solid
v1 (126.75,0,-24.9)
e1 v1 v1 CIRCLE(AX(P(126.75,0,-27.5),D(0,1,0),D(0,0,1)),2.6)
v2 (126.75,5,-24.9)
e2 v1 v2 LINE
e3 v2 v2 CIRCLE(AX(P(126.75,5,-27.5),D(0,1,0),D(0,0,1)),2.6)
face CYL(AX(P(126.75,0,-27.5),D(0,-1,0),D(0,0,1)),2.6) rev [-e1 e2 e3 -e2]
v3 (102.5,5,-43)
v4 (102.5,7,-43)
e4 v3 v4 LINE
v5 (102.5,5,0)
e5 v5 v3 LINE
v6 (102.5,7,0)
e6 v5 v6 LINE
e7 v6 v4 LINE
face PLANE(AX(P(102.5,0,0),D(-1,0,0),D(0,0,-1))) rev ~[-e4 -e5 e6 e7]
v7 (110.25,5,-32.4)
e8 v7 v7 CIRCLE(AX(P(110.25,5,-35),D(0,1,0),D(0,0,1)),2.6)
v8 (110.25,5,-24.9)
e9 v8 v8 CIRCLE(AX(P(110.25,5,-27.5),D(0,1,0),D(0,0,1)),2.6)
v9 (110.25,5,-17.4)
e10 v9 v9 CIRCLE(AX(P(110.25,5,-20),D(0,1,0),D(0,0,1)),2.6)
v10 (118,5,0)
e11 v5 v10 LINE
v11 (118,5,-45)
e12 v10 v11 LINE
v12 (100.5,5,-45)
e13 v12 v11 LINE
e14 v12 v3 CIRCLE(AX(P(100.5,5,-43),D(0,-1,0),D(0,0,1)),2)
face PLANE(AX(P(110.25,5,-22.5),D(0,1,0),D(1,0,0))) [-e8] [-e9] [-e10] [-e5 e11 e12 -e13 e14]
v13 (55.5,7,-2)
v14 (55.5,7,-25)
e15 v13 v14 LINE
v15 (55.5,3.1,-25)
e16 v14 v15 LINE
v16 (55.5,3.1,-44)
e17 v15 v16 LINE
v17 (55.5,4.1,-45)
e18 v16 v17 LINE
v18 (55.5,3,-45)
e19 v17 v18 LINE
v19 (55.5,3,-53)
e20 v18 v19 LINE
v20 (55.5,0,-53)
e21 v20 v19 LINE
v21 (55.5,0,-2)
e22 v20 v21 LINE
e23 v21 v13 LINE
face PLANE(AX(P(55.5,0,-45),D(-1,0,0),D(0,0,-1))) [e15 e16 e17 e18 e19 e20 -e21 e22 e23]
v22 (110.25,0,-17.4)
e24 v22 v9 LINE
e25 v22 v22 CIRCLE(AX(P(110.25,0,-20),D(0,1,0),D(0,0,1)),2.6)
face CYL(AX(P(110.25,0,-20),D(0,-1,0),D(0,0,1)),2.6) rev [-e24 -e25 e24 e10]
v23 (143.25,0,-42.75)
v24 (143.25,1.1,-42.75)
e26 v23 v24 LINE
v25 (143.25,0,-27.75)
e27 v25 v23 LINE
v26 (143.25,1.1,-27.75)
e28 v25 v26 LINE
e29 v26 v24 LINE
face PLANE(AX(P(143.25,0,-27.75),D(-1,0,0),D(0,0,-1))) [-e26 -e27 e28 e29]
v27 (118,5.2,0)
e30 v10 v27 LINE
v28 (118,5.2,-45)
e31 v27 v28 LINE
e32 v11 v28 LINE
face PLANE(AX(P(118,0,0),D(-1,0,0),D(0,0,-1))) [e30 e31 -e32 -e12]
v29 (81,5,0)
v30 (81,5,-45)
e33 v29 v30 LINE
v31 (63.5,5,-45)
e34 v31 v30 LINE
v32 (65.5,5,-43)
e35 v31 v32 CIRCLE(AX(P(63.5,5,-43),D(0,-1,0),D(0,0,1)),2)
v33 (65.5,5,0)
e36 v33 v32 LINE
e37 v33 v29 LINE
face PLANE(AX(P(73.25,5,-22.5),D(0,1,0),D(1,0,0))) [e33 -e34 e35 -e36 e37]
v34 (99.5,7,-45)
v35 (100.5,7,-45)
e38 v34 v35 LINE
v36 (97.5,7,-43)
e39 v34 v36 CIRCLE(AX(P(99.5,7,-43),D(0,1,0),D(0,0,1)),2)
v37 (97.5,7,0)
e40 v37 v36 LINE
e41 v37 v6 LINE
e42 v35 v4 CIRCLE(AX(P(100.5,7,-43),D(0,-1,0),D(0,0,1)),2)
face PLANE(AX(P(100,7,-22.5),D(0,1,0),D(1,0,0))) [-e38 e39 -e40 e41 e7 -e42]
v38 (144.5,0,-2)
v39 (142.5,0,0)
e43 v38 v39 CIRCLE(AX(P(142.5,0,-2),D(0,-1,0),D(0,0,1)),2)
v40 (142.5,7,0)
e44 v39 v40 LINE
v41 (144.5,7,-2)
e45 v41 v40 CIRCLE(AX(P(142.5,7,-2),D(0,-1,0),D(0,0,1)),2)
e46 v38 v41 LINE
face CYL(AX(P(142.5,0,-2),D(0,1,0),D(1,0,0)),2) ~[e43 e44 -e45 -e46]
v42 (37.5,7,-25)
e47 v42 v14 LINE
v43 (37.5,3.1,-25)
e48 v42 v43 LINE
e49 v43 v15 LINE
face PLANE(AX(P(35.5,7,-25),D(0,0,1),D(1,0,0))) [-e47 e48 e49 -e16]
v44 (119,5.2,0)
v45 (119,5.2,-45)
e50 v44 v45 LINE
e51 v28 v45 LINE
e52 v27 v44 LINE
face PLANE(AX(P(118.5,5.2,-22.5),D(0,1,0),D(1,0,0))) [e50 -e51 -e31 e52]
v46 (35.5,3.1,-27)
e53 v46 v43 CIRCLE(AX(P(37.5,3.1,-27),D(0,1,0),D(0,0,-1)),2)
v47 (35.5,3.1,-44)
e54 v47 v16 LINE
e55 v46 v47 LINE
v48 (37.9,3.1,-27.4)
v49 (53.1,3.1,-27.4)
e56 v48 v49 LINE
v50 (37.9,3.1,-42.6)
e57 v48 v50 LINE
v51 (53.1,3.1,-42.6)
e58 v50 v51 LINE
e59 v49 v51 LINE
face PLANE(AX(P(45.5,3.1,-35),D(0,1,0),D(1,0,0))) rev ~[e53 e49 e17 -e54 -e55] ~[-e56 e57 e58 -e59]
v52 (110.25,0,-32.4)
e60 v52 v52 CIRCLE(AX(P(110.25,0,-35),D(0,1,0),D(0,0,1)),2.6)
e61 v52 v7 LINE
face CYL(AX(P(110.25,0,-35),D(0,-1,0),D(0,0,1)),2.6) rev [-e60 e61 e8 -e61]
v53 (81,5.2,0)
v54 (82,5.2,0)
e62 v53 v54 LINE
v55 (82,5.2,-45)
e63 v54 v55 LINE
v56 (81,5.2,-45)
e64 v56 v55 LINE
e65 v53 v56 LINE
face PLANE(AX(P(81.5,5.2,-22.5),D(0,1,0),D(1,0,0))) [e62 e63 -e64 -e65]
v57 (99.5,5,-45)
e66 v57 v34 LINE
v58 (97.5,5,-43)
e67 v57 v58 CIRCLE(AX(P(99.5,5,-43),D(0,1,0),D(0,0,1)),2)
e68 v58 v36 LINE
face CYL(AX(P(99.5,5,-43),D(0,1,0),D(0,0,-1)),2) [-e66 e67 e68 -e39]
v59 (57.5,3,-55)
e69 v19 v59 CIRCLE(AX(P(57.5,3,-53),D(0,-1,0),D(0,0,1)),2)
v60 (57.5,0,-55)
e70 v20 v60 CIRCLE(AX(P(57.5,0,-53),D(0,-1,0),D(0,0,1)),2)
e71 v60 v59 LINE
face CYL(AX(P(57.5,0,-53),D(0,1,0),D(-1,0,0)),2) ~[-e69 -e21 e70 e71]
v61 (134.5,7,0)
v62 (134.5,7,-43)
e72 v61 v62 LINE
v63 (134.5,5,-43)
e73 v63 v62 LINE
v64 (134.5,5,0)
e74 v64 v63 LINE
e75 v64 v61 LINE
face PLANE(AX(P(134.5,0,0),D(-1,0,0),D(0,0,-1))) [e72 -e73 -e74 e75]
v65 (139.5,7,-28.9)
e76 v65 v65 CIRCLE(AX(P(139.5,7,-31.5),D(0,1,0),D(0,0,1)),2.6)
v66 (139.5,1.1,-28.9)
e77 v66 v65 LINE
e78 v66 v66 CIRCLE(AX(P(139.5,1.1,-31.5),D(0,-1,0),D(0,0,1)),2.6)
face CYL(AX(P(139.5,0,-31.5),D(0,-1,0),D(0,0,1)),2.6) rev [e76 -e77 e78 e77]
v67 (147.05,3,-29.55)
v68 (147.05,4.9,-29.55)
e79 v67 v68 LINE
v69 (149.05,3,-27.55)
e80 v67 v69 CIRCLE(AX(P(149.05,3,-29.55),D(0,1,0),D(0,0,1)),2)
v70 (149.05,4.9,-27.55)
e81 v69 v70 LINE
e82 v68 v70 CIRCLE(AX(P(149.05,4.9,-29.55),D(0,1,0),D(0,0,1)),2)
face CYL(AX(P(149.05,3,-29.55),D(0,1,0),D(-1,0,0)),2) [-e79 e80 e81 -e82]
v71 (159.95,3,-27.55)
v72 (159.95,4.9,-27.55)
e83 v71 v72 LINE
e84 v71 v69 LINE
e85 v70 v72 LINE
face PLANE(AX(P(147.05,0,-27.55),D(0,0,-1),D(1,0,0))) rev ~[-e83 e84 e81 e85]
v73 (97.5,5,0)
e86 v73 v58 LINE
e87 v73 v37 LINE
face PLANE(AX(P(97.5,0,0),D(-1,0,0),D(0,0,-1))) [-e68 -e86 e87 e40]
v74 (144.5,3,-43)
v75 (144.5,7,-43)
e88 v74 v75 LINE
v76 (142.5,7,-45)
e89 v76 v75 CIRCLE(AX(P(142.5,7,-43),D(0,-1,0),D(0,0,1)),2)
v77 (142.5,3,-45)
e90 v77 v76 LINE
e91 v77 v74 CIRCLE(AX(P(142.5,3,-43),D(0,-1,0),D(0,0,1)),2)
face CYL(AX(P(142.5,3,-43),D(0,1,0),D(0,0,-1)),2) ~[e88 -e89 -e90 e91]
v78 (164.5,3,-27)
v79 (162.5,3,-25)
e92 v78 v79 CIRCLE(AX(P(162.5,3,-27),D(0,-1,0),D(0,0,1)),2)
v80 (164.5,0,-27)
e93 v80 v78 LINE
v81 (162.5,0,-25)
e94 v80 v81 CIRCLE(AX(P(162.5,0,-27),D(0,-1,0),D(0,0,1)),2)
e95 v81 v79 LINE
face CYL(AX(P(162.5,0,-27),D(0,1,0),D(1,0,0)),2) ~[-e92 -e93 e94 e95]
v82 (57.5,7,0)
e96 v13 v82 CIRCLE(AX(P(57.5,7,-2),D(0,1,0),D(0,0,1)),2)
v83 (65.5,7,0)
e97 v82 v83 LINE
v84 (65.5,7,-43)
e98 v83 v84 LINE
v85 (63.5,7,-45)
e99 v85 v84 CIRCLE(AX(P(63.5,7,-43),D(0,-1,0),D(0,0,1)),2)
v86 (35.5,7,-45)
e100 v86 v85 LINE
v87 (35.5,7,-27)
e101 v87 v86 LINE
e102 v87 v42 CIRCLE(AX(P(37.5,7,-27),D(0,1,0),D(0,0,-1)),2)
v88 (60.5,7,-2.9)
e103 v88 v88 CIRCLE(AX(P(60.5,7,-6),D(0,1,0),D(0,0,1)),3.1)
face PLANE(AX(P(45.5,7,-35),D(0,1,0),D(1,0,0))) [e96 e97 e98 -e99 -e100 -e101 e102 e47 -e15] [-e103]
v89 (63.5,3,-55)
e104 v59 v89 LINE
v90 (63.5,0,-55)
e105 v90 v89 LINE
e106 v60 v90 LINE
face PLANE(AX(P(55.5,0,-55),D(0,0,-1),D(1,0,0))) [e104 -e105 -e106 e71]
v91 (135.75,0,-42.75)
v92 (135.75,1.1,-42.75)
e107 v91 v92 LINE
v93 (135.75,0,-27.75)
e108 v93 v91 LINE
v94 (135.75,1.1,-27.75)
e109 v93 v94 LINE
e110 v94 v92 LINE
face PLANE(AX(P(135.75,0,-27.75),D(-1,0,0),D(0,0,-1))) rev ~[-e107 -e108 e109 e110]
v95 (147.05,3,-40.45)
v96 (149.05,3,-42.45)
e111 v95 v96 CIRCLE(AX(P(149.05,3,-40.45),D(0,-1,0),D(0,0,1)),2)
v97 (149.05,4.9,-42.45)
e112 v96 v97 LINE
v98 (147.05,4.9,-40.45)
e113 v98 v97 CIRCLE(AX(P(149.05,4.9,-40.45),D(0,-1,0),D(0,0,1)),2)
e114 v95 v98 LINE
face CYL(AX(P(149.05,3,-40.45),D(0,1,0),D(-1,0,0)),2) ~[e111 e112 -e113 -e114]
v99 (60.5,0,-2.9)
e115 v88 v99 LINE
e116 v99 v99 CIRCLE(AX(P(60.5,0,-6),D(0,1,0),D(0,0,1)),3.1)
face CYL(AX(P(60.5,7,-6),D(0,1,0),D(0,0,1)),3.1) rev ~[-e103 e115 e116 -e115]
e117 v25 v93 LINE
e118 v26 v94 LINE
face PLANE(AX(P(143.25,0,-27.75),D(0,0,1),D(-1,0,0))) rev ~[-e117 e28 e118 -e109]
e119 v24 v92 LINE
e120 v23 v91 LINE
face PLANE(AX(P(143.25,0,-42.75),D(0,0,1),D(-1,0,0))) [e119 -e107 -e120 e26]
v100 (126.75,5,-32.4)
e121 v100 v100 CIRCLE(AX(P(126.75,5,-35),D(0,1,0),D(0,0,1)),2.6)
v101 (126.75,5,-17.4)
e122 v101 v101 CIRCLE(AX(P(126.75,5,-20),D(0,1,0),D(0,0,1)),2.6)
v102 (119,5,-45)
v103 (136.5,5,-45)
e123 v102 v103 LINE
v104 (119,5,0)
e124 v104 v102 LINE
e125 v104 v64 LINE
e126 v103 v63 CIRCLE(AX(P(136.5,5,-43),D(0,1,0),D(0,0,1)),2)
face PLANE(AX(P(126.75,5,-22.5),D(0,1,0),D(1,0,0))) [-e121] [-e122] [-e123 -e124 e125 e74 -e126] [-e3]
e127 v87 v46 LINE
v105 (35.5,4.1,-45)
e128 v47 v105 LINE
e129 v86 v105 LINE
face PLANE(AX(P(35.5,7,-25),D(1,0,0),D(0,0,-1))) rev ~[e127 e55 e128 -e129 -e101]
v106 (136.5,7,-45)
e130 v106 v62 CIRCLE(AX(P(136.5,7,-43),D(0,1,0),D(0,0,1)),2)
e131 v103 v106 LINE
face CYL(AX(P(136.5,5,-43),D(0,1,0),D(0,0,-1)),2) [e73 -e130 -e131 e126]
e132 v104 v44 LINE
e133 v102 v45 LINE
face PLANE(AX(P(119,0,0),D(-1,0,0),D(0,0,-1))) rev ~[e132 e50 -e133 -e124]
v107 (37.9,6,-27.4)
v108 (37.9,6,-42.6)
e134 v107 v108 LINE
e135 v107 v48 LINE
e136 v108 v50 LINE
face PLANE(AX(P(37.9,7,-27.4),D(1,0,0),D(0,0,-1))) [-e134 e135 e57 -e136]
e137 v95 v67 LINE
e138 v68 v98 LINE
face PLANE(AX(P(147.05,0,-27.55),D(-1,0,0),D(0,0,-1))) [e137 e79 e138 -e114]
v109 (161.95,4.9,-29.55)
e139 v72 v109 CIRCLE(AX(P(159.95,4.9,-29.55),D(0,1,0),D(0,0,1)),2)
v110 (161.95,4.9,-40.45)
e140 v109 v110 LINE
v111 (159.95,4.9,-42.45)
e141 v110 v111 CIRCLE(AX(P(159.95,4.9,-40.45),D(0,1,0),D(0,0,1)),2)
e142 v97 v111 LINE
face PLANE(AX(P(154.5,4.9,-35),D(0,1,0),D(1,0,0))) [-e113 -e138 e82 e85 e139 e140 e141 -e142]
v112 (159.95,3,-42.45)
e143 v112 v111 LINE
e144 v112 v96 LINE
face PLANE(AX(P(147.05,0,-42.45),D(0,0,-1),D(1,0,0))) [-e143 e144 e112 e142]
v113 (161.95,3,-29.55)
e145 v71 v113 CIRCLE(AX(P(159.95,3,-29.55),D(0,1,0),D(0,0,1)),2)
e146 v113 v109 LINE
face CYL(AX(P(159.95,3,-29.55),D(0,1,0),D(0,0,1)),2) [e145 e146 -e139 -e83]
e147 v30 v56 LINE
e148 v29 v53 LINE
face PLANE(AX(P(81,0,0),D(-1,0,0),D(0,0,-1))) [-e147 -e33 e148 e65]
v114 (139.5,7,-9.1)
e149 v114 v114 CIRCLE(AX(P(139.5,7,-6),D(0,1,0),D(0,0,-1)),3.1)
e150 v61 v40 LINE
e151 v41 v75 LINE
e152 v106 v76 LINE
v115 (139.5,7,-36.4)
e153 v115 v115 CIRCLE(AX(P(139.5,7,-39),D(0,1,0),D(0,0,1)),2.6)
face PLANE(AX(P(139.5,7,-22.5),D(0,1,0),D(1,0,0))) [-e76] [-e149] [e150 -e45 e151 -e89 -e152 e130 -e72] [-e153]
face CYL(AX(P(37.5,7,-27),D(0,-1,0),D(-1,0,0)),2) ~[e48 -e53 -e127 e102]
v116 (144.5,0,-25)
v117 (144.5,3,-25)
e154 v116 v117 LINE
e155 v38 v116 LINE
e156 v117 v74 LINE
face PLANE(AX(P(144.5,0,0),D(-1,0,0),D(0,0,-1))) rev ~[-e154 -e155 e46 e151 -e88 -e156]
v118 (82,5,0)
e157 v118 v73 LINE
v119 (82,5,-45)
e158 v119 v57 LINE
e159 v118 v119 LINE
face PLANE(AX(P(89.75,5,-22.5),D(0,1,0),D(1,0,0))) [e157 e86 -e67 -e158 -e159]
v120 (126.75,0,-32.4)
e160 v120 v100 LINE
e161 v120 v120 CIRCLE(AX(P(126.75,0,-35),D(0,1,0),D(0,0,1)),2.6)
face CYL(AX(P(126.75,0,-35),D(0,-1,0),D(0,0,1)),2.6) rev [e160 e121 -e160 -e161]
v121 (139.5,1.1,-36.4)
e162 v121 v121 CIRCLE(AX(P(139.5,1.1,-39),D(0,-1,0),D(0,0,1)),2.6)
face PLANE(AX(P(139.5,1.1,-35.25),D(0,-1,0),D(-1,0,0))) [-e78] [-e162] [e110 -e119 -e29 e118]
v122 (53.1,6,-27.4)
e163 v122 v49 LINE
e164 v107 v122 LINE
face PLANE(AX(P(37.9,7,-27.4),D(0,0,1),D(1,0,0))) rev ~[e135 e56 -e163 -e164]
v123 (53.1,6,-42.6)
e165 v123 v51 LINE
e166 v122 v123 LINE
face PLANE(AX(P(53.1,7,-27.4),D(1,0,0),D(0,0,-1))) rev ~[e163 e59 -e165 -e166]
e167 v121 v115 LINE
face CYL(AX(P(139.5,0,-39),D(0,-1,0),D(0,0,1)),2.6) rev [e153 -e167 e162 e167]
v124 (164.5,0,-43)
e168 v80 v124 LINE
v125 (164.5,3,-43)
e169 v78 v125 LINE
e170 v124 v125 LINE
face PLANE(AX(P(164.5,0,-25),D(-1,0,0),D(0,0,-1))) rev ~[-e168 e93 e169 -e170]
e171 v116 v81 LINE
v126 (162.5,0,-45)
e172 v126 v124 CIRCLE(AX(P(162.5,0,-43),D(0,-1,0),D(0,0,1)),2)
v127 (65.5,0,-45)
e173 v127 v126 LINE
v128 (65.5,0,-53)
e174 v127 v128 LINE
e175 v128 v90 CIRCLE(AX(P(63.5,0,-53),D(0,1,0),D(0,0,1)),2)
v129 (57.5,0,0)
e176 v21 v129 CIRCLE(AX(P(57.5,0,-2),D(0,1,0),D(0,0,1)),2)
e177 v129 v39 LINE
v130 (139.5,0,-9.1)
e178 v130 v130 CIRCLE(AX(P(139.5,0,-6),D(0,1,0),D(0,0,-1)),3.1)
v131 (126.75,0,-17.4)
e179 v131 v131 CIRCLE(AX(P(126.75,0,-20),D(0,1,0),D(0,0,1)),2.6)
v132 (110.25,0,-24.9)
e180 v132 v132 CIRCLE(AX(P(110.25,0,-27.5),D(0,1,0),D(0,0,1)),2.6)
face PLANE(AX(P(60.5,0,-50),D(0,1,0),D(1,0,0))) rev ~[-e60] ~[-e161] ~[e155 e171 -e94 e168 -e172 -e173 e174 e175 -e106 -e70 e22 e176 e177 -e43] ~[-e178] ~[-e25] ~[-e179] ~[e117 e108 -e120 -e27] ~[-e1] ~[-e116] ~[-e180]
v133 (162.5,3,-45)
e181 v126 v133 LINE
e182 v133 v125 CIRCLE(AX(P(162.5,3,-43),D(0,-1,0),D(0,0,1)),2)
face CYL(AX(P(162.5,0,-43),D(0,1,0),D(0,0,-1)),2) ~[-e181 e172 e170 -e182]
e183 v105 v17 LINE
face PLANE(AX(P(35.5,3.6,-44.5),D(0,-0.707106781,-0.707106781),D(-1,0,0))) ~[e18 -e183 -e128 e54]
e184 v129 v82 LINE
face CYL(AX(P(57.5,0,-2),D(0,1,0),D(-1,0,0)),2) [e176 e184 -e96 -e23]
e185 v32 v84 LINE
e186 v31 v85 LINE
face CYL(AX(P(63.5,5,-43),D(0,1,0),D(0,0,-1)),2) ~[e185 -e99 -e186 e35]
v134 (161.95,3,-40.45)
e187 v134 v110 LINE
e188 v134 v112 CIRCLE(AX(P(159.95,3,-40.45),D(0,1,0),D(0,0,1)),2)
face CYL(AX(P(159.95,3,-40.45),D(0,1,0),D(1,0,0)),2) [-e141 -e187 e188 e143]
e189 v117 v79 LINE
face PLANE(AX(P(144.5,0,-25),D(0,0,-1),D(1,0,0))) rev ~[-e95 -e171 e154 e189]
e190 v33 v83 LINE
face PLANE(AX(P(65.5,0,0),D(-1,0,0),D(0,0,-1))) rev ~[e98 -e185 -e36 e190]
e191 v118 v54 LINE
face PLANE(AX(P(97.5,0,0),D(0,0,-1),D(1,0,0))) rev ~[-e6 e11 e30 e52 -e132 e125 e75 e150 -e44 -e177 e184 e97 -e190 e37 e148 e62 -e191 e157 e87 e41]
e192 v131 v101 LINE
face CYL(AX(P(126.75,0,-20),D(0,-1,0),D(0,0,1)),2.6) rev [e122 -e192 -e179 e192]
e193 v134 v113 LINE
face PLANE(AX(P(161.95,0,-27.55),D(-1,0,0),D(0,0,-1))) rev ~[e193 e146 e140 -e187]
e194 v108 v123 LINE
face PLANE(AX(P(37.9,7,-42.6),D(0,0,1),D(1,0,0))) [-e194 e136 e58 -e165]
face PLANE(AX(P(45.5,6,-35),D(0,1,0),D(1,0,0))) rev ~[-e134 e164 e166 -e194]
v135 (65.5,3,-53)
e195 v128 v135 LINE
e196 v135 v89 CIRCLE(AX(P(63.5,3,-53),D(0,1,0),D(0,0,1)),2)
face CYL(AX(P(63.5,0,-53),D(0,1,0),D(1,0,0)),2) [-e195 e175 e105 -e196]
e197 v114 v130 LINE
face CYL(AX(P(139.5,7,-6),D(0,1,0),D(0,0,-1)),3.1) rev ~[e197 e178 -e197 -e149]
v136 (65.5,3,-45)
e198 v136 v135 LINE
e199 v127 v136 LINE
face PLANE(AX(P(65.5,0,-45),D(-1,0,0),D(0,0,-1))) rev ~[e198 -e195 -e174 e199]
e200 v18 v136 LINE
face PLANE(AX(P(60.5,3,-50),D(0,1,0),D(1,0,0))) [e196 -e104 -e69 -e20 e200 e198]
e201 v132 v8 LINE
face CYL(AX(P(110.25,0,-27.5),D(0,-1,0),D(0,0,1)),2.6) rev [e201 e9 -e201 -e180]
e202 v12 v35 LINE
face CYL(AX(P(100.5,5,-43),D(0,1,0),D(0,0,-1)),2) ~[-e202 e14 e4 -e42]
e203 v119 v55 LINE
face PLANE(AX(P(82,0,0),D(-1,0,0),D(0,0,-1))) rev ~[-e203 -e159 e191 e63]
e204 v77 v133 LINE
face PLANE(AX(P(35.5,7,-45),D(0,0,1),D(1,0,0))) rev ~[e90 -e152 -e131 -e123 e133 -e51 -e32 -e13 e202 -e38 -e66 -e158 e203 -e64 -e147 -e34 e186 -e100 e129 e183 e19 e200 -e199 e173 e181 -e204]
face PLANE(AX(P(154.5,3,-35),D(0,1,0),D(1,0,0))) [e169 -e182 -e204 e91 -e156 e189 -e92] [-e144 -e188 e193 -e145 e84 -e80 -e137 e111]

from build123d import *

# Parameters (mm, degrees)
SKETCH1_W             = 15.5
SKETCH1_H             = 45
BOSS_EXTRUDE1_DEPTH   = 5
BOSS_EXTRUDE1_2_DEPTH = 5
SKETCH1_R             = 2.6
BOSS_EXTRUDE1_3_DEPTH = 5
BOSS_EXTRUDE1_4_DEPTH = 5
SKETCH1_3_W           = 1
SKETCH1_3_H           = 45
BOSS_EXTRUDE2_DEPTH   = 5.2
SKETCH1_4_W           = 5
SKETCH1_4_H           = 45
SKETCH1_4_W_2         = 10
SKETCH1_4_R           = 2.6
BOSS_EXTRUDE3_DEPTH   = 7
SKETCH2_W             = 7.5
SKETCH2_H             = 15
CUT_EXTRUDE1_DEPTH    = 1.1
SKETCH3_R             = 3.1
CUT_EXTRUDE2_DEPTH    = 152.506600516
SKETCH5_W             = 20
SKETCH5_H             = 20
SKETCH5_W_2           = 14.9
SKETCH5_H_2           = 14.9
BOSS_EXTRUDE4_DEPTH   = 3
SKETCH5_3_W           = 14.9
SKETCH5_3_H           = 14.9
BOSS_EXTRUDE5_DEPTH   = 4.9
BOSS_EXTRUDE6_START   = 7
SKETCH5_4_W           = 20
SKETCH5_4_H           = 20
SKETCH5_4_W_2         = 15.2
SKETCH5_4_H_2         = 15.2
BOSS_EXTRUDE6_DEPTH   = 3.9
BOSS_EXTRUDE7_START   = 7
SKETCH5_5_W           = 15.2
SKETCH5_5_H           = 15.2
BOSS_EXTRUDE7_DEPTH   = 1
FILLET1_R             = 2
BOSS_EXTRUDE8_START   = -7
SKETCH6_W             = 10
SKETCH6_H             = 10
BOSS_EXTRUDE8_DEPTH   = 3
FILLET3_R             = 2
CHAMFER1_SIZE         = 1


with BuildPart() as part:
    # Sketch1 → Boss-Extrude1 (new body)
    with BuildSketch(Plane(origin=(0, 0, 0), x_dir=(1, 0, 0), z_dir=(0, 1, 0))):
        with Locations((73.25, 22.5)):
            Rectangle(SKETCH1_W, SKETCH1_H)
    extrude(amount=BOSS_EXTRUDE1_DEPTH)



with BuildPart() as body_2:
    # Sketch1 → Boss-Extrude1 2 (new body)
    with BuildSketch(Plane(origin=(0, 0, 0), x_dir=(1, 0, 0), z_dir=(0, 1, 0))):
        with Locations((89.75, 22.5)):
            Rectangle(SKETCH1_W, SKETCH1_H)
    extrude(amount=BOSS_EXTRUDE1_2_DEPTH)


with BuildPart() as body_3:
    # Sketch1 → Boss-Extrude1 3 (new body)
    with BuildSketch(Plane(origin=(0, 0, 0), x_dir=(1, 0, 0), z_dir=(0, 1, 0))):
        with Locations((110.25, 22.5)):
            Rectangle(SKETCH1_W, SKETCH1_H)
        with Locations(Location((110.25, 20, 0), (0, 0, 270))):
            Circle(SKETCH1_R, mode=Mode.SUBTRACT)
        with Locations(Location((110.25, 27.5, 0), (0, 0, 270))):
            Circle(SKETCH1_R, mode=Mode.SUBTRACT)
        with Locations(Location((110.25, 35, 0), (0, 0, 270))):
            Circle(SKETCH1_R, mode=Mode.SUBTRACT)
    extrude(amount=BOSS_EXTRUDE1_3_DEPTH)


with BuildPart() as body_4:
    # Sketch1 → Boss-Extrude1 4 (new body)
    with BuildSketch(Plane(origin=(0, 0, 0), x_dir=(1, 0, 0), z_dir=(0, 1, 0))):
        with Locations((126.75, 22.5)):
            Rectangle(SKETCH1_W, SKETCH1_H)
        with Locations(Location((126.75, 20, 0), (0, 0, 270))):
            Circle(SKETCH1_R, mode=Mode.SUBTRACT)
        with Locations(Location((126.75, 27.5, 0), (0, 0, 270))):
            Circle(SKETCH1_R, mode=Mode.SUBTRACT)
        with Locations(Location((126.75, 35, 0), (0, 0, 270))):
            Circle(SKETCH1_R, mode=Mode.SUBTRACT)
    extrude(amount=BOSS_EXTRUDE1_4_DEPTH)


with BuildPart() as part_1:
    add(part.part)

    add(body_2.part)  # Boss-Extrude2 merges body 2

    add(body_3.part)  # Boss-Extrude2 merges body 3

    add(body_4.part)  # Boss-Extrude2 merges body 4
    # Sketch1<3> → Boss-Extrude2 (add)
    with BuildSketch(Plane(origin=(0, 0, 0), x_dir=(1, 0, 0), z_dir=(0, 1, 0))):
        with Locations((81.5, 22.5)):
            Rectangle(SKETCH1_3_W, SKETCH1_3_H)
        with Locations((118.5, 22.5)):
            Rectangle(SKETCH1_3_W, SKETCH1_3_H)
    extrude(amount=BOSS_EXTRUDE2_DEPTH)

    # Sketch1<4> → Boss-Extrude3 (add)
    # profile 1 of 3: a face of its own
    with BuildSketch(Plane(origin=(0, 0, 0), x_dir=(1, 0, 0), z_dir=(0, 1, 0))):
        with Locations((100, 22.5)):
            Rectangle(SKETCH1_4_W, SKETCH1_4_H)
    # profile 2 of 3: a face of its own
    with BuildSketch(Plane(origin=(0, 0, 0), x_dir=(1, 0, 0), z_dir=(0, 1, 0))):
        with Locations((139.5, 22.5)):
            Rectangle(SKETCH1_4_W_2, SKETCH1_4_H)
        with Locations(Location((139.5, 31.5, 0), (0, 0, 270))):
            Circle(SKETCH1_4_R, mode=Mode.SUBTRACT)
        with Locations(Location((139.5, 39, 0), (0, 0, 270))):
            Circle(SKETCH1_4_R, mode=Mode.SUBTRACT)
    # profile 3 of 3: a face of its own
    with BuildSketch(Plane(origin=(0, 0, 0), x_dir=(1, 0, 0), z_dir=(0, 1, 0))):
        with Locations((60.5, 22.5)):
            Rectangle(SKETCH1_4_W_2, SKETCH1_4_H)
    extrude(amount=BOSS_EXTRUDE3_DEPTH)

    # Sketch2 → Cut-Extrude1 (cut)
    with BuildSketch(Plane(origin=(0, 0, 0), x_dir=(-1, 0, 0), z_dir=(0, -1, 0))):
        with Locations((-139.5, 35.25)):
            Rectangle(SKETCH2_W, SKETCH2_H)
    extrude(amount=-CUT_EXTRUDE1_DEPTH, mode=Mode.SUBTRACT)

    # Sketch3 → Cut-Extrude2 (cut, through all)
    with BuildSketch(Plane(origin=(0, 7, 0), x_dir=(1, 0, 0), z_dir=(0, 1, 0))):
        with Locations(Location((60.5, 6, 0), (0, 0, 270))):
            Circle(SKETCH3_R)
        with Locations(Location((139.5, 6, 0), (0, 0, 90))):
            Circle(SKETCH3_R)
    extrude(amount=-CUT_EXTRUDE2_DEPTH, mode=Mode.SUBTRACT)

    # Sketch5 → Boss-Extrude4 (add)
    # profile 1 of 2: a face of its own
    with BuildSketch(Plane(origin=(0, 0, 0), x_dir=(1, 0, 0), z_dir=(0, 1, 0))):
        with Locations((154.5, 35)):
            Rectangle(SKETCH5_W, SKETCH5_H)
        with Locations((154.5, 35)):
            Rectangle(SKETCH5_W_2, SKETCH5_H_2, mode=Mode.SUBTRACT)
    # profile 2 of 2: a face of its own
    with BuildSketch(Plane(origin=(0, 0, 0), x_dir=(1, 0, 0), z_dir=(0, 1, 0))):
        with Locations((154.5, 35)):
            Rectangle(SKETCH5_W_2, SKETCH5_H_2)
    extrude(amount=BOSS_EXTRUDE4_DEPTH)

    # Sketch5<3> → Boss-Extrude5 (add)
    with BuildSketch(Plane(origin=(0, 0, 0), x_dir=(1, 0, 0), z_dir=(0, 1, 0))):
        with Locations((154.5, 35)):
            Rectangle(SKETCH5_3_W, SKETCH5_3_H)
    extrude(amount=BOSS_EXTRUDE5_DEPTH)

    # Sketch5<4> → Boss-Extrude6 (add)
    with BuildSketch(Plane(origin=(0, 0, 0), x_dir=(1, 0, 0), z_dir=(0, 1, 0)).offset(BOSS_EXTRUDE6_START)):
        with Locations((45.5, 35)):
            Rectangle(SKETCH5_4_W, SKETCH5_4_H)
        with Locations((45.5, 35)):
            Rectangle(SKETCH5_4_W_2, SKETCH5_4_H_2, mode=Mode.SUBTRACT)
    extrude(amount=-BOSS_EXTRUDE6_DEPTH)

    # Sketch5<5> → Boss-Extrude7 (add)
    with BuildSketch(Plane(origin=(0, 0, 0), x_dir=(1, 0, 0), z_dir=(0, 1, 0)).offset(BOSS_EXTRUDE7_START)):
        with Locations((45.5, 35)):
            Rectangle(SKETCH5_5_W, SKETCH5_5_H)
    extrude(amount=-BOSS_EXTRUDE7_DEPTH)

    # Fillet1
    fillet1_edges = [part_1.edges().sort_by_distance(p)[0] for p in [
        (161.95, 3.95, -42.45),
        (147.05, 3.95, -42.45),
        (147.05, 3.95, -27.55),
        (161.95, 3.95, -27.55),
    ]]
    fillet(fillet1_edges, radius=FILLET1_R)

    # Sketch6 → Boss-Extrude8 (add)
    with BuildSketch(Plane(origin=(0, 7, 0), x_dir=(1, 0, 0), z_dir=(0, 1, 0)).offset(BOSS_EXTRUDE8_START)):
        with Locations((60.5, 50)):
            Rectangle(SKETCH6_W, SKETCH6_H)
    extrude(amount=BOSS_EXTRUDE8_DEPTH)

    # Fillet3
    fillet3_edges = [part_1.edges().sort_by_distance(p)[0] for p in [
        (164.5, 1.5, -45),
        (164.5, 1.5, -25),
        (35.5, 5.05, -25),
        (65.5, 1.5, -55),
        (55.5, 1.5, -55),
        (97.5, 6, -45),
        (102.5, 6, -45),
        (134.5, 6, -45),
        (144.5, 3.5, 0),
        (144.5, 5, -45),
        (55.5, 3.5, 0),
        (65.5, 6, -45),
    ]]
    fillet(fillet3_edges, radius=FILLET3_R)

    # Chamfer1
    chamfer1_edges = [part_1.edges().sort_by_distance(p)[0] for p in [
        (45.5, 3.1, -45),
    ]]
    chamfer(chamfer1_edges, length=CHAMFER1_SIZE)


solid = part_1.part
